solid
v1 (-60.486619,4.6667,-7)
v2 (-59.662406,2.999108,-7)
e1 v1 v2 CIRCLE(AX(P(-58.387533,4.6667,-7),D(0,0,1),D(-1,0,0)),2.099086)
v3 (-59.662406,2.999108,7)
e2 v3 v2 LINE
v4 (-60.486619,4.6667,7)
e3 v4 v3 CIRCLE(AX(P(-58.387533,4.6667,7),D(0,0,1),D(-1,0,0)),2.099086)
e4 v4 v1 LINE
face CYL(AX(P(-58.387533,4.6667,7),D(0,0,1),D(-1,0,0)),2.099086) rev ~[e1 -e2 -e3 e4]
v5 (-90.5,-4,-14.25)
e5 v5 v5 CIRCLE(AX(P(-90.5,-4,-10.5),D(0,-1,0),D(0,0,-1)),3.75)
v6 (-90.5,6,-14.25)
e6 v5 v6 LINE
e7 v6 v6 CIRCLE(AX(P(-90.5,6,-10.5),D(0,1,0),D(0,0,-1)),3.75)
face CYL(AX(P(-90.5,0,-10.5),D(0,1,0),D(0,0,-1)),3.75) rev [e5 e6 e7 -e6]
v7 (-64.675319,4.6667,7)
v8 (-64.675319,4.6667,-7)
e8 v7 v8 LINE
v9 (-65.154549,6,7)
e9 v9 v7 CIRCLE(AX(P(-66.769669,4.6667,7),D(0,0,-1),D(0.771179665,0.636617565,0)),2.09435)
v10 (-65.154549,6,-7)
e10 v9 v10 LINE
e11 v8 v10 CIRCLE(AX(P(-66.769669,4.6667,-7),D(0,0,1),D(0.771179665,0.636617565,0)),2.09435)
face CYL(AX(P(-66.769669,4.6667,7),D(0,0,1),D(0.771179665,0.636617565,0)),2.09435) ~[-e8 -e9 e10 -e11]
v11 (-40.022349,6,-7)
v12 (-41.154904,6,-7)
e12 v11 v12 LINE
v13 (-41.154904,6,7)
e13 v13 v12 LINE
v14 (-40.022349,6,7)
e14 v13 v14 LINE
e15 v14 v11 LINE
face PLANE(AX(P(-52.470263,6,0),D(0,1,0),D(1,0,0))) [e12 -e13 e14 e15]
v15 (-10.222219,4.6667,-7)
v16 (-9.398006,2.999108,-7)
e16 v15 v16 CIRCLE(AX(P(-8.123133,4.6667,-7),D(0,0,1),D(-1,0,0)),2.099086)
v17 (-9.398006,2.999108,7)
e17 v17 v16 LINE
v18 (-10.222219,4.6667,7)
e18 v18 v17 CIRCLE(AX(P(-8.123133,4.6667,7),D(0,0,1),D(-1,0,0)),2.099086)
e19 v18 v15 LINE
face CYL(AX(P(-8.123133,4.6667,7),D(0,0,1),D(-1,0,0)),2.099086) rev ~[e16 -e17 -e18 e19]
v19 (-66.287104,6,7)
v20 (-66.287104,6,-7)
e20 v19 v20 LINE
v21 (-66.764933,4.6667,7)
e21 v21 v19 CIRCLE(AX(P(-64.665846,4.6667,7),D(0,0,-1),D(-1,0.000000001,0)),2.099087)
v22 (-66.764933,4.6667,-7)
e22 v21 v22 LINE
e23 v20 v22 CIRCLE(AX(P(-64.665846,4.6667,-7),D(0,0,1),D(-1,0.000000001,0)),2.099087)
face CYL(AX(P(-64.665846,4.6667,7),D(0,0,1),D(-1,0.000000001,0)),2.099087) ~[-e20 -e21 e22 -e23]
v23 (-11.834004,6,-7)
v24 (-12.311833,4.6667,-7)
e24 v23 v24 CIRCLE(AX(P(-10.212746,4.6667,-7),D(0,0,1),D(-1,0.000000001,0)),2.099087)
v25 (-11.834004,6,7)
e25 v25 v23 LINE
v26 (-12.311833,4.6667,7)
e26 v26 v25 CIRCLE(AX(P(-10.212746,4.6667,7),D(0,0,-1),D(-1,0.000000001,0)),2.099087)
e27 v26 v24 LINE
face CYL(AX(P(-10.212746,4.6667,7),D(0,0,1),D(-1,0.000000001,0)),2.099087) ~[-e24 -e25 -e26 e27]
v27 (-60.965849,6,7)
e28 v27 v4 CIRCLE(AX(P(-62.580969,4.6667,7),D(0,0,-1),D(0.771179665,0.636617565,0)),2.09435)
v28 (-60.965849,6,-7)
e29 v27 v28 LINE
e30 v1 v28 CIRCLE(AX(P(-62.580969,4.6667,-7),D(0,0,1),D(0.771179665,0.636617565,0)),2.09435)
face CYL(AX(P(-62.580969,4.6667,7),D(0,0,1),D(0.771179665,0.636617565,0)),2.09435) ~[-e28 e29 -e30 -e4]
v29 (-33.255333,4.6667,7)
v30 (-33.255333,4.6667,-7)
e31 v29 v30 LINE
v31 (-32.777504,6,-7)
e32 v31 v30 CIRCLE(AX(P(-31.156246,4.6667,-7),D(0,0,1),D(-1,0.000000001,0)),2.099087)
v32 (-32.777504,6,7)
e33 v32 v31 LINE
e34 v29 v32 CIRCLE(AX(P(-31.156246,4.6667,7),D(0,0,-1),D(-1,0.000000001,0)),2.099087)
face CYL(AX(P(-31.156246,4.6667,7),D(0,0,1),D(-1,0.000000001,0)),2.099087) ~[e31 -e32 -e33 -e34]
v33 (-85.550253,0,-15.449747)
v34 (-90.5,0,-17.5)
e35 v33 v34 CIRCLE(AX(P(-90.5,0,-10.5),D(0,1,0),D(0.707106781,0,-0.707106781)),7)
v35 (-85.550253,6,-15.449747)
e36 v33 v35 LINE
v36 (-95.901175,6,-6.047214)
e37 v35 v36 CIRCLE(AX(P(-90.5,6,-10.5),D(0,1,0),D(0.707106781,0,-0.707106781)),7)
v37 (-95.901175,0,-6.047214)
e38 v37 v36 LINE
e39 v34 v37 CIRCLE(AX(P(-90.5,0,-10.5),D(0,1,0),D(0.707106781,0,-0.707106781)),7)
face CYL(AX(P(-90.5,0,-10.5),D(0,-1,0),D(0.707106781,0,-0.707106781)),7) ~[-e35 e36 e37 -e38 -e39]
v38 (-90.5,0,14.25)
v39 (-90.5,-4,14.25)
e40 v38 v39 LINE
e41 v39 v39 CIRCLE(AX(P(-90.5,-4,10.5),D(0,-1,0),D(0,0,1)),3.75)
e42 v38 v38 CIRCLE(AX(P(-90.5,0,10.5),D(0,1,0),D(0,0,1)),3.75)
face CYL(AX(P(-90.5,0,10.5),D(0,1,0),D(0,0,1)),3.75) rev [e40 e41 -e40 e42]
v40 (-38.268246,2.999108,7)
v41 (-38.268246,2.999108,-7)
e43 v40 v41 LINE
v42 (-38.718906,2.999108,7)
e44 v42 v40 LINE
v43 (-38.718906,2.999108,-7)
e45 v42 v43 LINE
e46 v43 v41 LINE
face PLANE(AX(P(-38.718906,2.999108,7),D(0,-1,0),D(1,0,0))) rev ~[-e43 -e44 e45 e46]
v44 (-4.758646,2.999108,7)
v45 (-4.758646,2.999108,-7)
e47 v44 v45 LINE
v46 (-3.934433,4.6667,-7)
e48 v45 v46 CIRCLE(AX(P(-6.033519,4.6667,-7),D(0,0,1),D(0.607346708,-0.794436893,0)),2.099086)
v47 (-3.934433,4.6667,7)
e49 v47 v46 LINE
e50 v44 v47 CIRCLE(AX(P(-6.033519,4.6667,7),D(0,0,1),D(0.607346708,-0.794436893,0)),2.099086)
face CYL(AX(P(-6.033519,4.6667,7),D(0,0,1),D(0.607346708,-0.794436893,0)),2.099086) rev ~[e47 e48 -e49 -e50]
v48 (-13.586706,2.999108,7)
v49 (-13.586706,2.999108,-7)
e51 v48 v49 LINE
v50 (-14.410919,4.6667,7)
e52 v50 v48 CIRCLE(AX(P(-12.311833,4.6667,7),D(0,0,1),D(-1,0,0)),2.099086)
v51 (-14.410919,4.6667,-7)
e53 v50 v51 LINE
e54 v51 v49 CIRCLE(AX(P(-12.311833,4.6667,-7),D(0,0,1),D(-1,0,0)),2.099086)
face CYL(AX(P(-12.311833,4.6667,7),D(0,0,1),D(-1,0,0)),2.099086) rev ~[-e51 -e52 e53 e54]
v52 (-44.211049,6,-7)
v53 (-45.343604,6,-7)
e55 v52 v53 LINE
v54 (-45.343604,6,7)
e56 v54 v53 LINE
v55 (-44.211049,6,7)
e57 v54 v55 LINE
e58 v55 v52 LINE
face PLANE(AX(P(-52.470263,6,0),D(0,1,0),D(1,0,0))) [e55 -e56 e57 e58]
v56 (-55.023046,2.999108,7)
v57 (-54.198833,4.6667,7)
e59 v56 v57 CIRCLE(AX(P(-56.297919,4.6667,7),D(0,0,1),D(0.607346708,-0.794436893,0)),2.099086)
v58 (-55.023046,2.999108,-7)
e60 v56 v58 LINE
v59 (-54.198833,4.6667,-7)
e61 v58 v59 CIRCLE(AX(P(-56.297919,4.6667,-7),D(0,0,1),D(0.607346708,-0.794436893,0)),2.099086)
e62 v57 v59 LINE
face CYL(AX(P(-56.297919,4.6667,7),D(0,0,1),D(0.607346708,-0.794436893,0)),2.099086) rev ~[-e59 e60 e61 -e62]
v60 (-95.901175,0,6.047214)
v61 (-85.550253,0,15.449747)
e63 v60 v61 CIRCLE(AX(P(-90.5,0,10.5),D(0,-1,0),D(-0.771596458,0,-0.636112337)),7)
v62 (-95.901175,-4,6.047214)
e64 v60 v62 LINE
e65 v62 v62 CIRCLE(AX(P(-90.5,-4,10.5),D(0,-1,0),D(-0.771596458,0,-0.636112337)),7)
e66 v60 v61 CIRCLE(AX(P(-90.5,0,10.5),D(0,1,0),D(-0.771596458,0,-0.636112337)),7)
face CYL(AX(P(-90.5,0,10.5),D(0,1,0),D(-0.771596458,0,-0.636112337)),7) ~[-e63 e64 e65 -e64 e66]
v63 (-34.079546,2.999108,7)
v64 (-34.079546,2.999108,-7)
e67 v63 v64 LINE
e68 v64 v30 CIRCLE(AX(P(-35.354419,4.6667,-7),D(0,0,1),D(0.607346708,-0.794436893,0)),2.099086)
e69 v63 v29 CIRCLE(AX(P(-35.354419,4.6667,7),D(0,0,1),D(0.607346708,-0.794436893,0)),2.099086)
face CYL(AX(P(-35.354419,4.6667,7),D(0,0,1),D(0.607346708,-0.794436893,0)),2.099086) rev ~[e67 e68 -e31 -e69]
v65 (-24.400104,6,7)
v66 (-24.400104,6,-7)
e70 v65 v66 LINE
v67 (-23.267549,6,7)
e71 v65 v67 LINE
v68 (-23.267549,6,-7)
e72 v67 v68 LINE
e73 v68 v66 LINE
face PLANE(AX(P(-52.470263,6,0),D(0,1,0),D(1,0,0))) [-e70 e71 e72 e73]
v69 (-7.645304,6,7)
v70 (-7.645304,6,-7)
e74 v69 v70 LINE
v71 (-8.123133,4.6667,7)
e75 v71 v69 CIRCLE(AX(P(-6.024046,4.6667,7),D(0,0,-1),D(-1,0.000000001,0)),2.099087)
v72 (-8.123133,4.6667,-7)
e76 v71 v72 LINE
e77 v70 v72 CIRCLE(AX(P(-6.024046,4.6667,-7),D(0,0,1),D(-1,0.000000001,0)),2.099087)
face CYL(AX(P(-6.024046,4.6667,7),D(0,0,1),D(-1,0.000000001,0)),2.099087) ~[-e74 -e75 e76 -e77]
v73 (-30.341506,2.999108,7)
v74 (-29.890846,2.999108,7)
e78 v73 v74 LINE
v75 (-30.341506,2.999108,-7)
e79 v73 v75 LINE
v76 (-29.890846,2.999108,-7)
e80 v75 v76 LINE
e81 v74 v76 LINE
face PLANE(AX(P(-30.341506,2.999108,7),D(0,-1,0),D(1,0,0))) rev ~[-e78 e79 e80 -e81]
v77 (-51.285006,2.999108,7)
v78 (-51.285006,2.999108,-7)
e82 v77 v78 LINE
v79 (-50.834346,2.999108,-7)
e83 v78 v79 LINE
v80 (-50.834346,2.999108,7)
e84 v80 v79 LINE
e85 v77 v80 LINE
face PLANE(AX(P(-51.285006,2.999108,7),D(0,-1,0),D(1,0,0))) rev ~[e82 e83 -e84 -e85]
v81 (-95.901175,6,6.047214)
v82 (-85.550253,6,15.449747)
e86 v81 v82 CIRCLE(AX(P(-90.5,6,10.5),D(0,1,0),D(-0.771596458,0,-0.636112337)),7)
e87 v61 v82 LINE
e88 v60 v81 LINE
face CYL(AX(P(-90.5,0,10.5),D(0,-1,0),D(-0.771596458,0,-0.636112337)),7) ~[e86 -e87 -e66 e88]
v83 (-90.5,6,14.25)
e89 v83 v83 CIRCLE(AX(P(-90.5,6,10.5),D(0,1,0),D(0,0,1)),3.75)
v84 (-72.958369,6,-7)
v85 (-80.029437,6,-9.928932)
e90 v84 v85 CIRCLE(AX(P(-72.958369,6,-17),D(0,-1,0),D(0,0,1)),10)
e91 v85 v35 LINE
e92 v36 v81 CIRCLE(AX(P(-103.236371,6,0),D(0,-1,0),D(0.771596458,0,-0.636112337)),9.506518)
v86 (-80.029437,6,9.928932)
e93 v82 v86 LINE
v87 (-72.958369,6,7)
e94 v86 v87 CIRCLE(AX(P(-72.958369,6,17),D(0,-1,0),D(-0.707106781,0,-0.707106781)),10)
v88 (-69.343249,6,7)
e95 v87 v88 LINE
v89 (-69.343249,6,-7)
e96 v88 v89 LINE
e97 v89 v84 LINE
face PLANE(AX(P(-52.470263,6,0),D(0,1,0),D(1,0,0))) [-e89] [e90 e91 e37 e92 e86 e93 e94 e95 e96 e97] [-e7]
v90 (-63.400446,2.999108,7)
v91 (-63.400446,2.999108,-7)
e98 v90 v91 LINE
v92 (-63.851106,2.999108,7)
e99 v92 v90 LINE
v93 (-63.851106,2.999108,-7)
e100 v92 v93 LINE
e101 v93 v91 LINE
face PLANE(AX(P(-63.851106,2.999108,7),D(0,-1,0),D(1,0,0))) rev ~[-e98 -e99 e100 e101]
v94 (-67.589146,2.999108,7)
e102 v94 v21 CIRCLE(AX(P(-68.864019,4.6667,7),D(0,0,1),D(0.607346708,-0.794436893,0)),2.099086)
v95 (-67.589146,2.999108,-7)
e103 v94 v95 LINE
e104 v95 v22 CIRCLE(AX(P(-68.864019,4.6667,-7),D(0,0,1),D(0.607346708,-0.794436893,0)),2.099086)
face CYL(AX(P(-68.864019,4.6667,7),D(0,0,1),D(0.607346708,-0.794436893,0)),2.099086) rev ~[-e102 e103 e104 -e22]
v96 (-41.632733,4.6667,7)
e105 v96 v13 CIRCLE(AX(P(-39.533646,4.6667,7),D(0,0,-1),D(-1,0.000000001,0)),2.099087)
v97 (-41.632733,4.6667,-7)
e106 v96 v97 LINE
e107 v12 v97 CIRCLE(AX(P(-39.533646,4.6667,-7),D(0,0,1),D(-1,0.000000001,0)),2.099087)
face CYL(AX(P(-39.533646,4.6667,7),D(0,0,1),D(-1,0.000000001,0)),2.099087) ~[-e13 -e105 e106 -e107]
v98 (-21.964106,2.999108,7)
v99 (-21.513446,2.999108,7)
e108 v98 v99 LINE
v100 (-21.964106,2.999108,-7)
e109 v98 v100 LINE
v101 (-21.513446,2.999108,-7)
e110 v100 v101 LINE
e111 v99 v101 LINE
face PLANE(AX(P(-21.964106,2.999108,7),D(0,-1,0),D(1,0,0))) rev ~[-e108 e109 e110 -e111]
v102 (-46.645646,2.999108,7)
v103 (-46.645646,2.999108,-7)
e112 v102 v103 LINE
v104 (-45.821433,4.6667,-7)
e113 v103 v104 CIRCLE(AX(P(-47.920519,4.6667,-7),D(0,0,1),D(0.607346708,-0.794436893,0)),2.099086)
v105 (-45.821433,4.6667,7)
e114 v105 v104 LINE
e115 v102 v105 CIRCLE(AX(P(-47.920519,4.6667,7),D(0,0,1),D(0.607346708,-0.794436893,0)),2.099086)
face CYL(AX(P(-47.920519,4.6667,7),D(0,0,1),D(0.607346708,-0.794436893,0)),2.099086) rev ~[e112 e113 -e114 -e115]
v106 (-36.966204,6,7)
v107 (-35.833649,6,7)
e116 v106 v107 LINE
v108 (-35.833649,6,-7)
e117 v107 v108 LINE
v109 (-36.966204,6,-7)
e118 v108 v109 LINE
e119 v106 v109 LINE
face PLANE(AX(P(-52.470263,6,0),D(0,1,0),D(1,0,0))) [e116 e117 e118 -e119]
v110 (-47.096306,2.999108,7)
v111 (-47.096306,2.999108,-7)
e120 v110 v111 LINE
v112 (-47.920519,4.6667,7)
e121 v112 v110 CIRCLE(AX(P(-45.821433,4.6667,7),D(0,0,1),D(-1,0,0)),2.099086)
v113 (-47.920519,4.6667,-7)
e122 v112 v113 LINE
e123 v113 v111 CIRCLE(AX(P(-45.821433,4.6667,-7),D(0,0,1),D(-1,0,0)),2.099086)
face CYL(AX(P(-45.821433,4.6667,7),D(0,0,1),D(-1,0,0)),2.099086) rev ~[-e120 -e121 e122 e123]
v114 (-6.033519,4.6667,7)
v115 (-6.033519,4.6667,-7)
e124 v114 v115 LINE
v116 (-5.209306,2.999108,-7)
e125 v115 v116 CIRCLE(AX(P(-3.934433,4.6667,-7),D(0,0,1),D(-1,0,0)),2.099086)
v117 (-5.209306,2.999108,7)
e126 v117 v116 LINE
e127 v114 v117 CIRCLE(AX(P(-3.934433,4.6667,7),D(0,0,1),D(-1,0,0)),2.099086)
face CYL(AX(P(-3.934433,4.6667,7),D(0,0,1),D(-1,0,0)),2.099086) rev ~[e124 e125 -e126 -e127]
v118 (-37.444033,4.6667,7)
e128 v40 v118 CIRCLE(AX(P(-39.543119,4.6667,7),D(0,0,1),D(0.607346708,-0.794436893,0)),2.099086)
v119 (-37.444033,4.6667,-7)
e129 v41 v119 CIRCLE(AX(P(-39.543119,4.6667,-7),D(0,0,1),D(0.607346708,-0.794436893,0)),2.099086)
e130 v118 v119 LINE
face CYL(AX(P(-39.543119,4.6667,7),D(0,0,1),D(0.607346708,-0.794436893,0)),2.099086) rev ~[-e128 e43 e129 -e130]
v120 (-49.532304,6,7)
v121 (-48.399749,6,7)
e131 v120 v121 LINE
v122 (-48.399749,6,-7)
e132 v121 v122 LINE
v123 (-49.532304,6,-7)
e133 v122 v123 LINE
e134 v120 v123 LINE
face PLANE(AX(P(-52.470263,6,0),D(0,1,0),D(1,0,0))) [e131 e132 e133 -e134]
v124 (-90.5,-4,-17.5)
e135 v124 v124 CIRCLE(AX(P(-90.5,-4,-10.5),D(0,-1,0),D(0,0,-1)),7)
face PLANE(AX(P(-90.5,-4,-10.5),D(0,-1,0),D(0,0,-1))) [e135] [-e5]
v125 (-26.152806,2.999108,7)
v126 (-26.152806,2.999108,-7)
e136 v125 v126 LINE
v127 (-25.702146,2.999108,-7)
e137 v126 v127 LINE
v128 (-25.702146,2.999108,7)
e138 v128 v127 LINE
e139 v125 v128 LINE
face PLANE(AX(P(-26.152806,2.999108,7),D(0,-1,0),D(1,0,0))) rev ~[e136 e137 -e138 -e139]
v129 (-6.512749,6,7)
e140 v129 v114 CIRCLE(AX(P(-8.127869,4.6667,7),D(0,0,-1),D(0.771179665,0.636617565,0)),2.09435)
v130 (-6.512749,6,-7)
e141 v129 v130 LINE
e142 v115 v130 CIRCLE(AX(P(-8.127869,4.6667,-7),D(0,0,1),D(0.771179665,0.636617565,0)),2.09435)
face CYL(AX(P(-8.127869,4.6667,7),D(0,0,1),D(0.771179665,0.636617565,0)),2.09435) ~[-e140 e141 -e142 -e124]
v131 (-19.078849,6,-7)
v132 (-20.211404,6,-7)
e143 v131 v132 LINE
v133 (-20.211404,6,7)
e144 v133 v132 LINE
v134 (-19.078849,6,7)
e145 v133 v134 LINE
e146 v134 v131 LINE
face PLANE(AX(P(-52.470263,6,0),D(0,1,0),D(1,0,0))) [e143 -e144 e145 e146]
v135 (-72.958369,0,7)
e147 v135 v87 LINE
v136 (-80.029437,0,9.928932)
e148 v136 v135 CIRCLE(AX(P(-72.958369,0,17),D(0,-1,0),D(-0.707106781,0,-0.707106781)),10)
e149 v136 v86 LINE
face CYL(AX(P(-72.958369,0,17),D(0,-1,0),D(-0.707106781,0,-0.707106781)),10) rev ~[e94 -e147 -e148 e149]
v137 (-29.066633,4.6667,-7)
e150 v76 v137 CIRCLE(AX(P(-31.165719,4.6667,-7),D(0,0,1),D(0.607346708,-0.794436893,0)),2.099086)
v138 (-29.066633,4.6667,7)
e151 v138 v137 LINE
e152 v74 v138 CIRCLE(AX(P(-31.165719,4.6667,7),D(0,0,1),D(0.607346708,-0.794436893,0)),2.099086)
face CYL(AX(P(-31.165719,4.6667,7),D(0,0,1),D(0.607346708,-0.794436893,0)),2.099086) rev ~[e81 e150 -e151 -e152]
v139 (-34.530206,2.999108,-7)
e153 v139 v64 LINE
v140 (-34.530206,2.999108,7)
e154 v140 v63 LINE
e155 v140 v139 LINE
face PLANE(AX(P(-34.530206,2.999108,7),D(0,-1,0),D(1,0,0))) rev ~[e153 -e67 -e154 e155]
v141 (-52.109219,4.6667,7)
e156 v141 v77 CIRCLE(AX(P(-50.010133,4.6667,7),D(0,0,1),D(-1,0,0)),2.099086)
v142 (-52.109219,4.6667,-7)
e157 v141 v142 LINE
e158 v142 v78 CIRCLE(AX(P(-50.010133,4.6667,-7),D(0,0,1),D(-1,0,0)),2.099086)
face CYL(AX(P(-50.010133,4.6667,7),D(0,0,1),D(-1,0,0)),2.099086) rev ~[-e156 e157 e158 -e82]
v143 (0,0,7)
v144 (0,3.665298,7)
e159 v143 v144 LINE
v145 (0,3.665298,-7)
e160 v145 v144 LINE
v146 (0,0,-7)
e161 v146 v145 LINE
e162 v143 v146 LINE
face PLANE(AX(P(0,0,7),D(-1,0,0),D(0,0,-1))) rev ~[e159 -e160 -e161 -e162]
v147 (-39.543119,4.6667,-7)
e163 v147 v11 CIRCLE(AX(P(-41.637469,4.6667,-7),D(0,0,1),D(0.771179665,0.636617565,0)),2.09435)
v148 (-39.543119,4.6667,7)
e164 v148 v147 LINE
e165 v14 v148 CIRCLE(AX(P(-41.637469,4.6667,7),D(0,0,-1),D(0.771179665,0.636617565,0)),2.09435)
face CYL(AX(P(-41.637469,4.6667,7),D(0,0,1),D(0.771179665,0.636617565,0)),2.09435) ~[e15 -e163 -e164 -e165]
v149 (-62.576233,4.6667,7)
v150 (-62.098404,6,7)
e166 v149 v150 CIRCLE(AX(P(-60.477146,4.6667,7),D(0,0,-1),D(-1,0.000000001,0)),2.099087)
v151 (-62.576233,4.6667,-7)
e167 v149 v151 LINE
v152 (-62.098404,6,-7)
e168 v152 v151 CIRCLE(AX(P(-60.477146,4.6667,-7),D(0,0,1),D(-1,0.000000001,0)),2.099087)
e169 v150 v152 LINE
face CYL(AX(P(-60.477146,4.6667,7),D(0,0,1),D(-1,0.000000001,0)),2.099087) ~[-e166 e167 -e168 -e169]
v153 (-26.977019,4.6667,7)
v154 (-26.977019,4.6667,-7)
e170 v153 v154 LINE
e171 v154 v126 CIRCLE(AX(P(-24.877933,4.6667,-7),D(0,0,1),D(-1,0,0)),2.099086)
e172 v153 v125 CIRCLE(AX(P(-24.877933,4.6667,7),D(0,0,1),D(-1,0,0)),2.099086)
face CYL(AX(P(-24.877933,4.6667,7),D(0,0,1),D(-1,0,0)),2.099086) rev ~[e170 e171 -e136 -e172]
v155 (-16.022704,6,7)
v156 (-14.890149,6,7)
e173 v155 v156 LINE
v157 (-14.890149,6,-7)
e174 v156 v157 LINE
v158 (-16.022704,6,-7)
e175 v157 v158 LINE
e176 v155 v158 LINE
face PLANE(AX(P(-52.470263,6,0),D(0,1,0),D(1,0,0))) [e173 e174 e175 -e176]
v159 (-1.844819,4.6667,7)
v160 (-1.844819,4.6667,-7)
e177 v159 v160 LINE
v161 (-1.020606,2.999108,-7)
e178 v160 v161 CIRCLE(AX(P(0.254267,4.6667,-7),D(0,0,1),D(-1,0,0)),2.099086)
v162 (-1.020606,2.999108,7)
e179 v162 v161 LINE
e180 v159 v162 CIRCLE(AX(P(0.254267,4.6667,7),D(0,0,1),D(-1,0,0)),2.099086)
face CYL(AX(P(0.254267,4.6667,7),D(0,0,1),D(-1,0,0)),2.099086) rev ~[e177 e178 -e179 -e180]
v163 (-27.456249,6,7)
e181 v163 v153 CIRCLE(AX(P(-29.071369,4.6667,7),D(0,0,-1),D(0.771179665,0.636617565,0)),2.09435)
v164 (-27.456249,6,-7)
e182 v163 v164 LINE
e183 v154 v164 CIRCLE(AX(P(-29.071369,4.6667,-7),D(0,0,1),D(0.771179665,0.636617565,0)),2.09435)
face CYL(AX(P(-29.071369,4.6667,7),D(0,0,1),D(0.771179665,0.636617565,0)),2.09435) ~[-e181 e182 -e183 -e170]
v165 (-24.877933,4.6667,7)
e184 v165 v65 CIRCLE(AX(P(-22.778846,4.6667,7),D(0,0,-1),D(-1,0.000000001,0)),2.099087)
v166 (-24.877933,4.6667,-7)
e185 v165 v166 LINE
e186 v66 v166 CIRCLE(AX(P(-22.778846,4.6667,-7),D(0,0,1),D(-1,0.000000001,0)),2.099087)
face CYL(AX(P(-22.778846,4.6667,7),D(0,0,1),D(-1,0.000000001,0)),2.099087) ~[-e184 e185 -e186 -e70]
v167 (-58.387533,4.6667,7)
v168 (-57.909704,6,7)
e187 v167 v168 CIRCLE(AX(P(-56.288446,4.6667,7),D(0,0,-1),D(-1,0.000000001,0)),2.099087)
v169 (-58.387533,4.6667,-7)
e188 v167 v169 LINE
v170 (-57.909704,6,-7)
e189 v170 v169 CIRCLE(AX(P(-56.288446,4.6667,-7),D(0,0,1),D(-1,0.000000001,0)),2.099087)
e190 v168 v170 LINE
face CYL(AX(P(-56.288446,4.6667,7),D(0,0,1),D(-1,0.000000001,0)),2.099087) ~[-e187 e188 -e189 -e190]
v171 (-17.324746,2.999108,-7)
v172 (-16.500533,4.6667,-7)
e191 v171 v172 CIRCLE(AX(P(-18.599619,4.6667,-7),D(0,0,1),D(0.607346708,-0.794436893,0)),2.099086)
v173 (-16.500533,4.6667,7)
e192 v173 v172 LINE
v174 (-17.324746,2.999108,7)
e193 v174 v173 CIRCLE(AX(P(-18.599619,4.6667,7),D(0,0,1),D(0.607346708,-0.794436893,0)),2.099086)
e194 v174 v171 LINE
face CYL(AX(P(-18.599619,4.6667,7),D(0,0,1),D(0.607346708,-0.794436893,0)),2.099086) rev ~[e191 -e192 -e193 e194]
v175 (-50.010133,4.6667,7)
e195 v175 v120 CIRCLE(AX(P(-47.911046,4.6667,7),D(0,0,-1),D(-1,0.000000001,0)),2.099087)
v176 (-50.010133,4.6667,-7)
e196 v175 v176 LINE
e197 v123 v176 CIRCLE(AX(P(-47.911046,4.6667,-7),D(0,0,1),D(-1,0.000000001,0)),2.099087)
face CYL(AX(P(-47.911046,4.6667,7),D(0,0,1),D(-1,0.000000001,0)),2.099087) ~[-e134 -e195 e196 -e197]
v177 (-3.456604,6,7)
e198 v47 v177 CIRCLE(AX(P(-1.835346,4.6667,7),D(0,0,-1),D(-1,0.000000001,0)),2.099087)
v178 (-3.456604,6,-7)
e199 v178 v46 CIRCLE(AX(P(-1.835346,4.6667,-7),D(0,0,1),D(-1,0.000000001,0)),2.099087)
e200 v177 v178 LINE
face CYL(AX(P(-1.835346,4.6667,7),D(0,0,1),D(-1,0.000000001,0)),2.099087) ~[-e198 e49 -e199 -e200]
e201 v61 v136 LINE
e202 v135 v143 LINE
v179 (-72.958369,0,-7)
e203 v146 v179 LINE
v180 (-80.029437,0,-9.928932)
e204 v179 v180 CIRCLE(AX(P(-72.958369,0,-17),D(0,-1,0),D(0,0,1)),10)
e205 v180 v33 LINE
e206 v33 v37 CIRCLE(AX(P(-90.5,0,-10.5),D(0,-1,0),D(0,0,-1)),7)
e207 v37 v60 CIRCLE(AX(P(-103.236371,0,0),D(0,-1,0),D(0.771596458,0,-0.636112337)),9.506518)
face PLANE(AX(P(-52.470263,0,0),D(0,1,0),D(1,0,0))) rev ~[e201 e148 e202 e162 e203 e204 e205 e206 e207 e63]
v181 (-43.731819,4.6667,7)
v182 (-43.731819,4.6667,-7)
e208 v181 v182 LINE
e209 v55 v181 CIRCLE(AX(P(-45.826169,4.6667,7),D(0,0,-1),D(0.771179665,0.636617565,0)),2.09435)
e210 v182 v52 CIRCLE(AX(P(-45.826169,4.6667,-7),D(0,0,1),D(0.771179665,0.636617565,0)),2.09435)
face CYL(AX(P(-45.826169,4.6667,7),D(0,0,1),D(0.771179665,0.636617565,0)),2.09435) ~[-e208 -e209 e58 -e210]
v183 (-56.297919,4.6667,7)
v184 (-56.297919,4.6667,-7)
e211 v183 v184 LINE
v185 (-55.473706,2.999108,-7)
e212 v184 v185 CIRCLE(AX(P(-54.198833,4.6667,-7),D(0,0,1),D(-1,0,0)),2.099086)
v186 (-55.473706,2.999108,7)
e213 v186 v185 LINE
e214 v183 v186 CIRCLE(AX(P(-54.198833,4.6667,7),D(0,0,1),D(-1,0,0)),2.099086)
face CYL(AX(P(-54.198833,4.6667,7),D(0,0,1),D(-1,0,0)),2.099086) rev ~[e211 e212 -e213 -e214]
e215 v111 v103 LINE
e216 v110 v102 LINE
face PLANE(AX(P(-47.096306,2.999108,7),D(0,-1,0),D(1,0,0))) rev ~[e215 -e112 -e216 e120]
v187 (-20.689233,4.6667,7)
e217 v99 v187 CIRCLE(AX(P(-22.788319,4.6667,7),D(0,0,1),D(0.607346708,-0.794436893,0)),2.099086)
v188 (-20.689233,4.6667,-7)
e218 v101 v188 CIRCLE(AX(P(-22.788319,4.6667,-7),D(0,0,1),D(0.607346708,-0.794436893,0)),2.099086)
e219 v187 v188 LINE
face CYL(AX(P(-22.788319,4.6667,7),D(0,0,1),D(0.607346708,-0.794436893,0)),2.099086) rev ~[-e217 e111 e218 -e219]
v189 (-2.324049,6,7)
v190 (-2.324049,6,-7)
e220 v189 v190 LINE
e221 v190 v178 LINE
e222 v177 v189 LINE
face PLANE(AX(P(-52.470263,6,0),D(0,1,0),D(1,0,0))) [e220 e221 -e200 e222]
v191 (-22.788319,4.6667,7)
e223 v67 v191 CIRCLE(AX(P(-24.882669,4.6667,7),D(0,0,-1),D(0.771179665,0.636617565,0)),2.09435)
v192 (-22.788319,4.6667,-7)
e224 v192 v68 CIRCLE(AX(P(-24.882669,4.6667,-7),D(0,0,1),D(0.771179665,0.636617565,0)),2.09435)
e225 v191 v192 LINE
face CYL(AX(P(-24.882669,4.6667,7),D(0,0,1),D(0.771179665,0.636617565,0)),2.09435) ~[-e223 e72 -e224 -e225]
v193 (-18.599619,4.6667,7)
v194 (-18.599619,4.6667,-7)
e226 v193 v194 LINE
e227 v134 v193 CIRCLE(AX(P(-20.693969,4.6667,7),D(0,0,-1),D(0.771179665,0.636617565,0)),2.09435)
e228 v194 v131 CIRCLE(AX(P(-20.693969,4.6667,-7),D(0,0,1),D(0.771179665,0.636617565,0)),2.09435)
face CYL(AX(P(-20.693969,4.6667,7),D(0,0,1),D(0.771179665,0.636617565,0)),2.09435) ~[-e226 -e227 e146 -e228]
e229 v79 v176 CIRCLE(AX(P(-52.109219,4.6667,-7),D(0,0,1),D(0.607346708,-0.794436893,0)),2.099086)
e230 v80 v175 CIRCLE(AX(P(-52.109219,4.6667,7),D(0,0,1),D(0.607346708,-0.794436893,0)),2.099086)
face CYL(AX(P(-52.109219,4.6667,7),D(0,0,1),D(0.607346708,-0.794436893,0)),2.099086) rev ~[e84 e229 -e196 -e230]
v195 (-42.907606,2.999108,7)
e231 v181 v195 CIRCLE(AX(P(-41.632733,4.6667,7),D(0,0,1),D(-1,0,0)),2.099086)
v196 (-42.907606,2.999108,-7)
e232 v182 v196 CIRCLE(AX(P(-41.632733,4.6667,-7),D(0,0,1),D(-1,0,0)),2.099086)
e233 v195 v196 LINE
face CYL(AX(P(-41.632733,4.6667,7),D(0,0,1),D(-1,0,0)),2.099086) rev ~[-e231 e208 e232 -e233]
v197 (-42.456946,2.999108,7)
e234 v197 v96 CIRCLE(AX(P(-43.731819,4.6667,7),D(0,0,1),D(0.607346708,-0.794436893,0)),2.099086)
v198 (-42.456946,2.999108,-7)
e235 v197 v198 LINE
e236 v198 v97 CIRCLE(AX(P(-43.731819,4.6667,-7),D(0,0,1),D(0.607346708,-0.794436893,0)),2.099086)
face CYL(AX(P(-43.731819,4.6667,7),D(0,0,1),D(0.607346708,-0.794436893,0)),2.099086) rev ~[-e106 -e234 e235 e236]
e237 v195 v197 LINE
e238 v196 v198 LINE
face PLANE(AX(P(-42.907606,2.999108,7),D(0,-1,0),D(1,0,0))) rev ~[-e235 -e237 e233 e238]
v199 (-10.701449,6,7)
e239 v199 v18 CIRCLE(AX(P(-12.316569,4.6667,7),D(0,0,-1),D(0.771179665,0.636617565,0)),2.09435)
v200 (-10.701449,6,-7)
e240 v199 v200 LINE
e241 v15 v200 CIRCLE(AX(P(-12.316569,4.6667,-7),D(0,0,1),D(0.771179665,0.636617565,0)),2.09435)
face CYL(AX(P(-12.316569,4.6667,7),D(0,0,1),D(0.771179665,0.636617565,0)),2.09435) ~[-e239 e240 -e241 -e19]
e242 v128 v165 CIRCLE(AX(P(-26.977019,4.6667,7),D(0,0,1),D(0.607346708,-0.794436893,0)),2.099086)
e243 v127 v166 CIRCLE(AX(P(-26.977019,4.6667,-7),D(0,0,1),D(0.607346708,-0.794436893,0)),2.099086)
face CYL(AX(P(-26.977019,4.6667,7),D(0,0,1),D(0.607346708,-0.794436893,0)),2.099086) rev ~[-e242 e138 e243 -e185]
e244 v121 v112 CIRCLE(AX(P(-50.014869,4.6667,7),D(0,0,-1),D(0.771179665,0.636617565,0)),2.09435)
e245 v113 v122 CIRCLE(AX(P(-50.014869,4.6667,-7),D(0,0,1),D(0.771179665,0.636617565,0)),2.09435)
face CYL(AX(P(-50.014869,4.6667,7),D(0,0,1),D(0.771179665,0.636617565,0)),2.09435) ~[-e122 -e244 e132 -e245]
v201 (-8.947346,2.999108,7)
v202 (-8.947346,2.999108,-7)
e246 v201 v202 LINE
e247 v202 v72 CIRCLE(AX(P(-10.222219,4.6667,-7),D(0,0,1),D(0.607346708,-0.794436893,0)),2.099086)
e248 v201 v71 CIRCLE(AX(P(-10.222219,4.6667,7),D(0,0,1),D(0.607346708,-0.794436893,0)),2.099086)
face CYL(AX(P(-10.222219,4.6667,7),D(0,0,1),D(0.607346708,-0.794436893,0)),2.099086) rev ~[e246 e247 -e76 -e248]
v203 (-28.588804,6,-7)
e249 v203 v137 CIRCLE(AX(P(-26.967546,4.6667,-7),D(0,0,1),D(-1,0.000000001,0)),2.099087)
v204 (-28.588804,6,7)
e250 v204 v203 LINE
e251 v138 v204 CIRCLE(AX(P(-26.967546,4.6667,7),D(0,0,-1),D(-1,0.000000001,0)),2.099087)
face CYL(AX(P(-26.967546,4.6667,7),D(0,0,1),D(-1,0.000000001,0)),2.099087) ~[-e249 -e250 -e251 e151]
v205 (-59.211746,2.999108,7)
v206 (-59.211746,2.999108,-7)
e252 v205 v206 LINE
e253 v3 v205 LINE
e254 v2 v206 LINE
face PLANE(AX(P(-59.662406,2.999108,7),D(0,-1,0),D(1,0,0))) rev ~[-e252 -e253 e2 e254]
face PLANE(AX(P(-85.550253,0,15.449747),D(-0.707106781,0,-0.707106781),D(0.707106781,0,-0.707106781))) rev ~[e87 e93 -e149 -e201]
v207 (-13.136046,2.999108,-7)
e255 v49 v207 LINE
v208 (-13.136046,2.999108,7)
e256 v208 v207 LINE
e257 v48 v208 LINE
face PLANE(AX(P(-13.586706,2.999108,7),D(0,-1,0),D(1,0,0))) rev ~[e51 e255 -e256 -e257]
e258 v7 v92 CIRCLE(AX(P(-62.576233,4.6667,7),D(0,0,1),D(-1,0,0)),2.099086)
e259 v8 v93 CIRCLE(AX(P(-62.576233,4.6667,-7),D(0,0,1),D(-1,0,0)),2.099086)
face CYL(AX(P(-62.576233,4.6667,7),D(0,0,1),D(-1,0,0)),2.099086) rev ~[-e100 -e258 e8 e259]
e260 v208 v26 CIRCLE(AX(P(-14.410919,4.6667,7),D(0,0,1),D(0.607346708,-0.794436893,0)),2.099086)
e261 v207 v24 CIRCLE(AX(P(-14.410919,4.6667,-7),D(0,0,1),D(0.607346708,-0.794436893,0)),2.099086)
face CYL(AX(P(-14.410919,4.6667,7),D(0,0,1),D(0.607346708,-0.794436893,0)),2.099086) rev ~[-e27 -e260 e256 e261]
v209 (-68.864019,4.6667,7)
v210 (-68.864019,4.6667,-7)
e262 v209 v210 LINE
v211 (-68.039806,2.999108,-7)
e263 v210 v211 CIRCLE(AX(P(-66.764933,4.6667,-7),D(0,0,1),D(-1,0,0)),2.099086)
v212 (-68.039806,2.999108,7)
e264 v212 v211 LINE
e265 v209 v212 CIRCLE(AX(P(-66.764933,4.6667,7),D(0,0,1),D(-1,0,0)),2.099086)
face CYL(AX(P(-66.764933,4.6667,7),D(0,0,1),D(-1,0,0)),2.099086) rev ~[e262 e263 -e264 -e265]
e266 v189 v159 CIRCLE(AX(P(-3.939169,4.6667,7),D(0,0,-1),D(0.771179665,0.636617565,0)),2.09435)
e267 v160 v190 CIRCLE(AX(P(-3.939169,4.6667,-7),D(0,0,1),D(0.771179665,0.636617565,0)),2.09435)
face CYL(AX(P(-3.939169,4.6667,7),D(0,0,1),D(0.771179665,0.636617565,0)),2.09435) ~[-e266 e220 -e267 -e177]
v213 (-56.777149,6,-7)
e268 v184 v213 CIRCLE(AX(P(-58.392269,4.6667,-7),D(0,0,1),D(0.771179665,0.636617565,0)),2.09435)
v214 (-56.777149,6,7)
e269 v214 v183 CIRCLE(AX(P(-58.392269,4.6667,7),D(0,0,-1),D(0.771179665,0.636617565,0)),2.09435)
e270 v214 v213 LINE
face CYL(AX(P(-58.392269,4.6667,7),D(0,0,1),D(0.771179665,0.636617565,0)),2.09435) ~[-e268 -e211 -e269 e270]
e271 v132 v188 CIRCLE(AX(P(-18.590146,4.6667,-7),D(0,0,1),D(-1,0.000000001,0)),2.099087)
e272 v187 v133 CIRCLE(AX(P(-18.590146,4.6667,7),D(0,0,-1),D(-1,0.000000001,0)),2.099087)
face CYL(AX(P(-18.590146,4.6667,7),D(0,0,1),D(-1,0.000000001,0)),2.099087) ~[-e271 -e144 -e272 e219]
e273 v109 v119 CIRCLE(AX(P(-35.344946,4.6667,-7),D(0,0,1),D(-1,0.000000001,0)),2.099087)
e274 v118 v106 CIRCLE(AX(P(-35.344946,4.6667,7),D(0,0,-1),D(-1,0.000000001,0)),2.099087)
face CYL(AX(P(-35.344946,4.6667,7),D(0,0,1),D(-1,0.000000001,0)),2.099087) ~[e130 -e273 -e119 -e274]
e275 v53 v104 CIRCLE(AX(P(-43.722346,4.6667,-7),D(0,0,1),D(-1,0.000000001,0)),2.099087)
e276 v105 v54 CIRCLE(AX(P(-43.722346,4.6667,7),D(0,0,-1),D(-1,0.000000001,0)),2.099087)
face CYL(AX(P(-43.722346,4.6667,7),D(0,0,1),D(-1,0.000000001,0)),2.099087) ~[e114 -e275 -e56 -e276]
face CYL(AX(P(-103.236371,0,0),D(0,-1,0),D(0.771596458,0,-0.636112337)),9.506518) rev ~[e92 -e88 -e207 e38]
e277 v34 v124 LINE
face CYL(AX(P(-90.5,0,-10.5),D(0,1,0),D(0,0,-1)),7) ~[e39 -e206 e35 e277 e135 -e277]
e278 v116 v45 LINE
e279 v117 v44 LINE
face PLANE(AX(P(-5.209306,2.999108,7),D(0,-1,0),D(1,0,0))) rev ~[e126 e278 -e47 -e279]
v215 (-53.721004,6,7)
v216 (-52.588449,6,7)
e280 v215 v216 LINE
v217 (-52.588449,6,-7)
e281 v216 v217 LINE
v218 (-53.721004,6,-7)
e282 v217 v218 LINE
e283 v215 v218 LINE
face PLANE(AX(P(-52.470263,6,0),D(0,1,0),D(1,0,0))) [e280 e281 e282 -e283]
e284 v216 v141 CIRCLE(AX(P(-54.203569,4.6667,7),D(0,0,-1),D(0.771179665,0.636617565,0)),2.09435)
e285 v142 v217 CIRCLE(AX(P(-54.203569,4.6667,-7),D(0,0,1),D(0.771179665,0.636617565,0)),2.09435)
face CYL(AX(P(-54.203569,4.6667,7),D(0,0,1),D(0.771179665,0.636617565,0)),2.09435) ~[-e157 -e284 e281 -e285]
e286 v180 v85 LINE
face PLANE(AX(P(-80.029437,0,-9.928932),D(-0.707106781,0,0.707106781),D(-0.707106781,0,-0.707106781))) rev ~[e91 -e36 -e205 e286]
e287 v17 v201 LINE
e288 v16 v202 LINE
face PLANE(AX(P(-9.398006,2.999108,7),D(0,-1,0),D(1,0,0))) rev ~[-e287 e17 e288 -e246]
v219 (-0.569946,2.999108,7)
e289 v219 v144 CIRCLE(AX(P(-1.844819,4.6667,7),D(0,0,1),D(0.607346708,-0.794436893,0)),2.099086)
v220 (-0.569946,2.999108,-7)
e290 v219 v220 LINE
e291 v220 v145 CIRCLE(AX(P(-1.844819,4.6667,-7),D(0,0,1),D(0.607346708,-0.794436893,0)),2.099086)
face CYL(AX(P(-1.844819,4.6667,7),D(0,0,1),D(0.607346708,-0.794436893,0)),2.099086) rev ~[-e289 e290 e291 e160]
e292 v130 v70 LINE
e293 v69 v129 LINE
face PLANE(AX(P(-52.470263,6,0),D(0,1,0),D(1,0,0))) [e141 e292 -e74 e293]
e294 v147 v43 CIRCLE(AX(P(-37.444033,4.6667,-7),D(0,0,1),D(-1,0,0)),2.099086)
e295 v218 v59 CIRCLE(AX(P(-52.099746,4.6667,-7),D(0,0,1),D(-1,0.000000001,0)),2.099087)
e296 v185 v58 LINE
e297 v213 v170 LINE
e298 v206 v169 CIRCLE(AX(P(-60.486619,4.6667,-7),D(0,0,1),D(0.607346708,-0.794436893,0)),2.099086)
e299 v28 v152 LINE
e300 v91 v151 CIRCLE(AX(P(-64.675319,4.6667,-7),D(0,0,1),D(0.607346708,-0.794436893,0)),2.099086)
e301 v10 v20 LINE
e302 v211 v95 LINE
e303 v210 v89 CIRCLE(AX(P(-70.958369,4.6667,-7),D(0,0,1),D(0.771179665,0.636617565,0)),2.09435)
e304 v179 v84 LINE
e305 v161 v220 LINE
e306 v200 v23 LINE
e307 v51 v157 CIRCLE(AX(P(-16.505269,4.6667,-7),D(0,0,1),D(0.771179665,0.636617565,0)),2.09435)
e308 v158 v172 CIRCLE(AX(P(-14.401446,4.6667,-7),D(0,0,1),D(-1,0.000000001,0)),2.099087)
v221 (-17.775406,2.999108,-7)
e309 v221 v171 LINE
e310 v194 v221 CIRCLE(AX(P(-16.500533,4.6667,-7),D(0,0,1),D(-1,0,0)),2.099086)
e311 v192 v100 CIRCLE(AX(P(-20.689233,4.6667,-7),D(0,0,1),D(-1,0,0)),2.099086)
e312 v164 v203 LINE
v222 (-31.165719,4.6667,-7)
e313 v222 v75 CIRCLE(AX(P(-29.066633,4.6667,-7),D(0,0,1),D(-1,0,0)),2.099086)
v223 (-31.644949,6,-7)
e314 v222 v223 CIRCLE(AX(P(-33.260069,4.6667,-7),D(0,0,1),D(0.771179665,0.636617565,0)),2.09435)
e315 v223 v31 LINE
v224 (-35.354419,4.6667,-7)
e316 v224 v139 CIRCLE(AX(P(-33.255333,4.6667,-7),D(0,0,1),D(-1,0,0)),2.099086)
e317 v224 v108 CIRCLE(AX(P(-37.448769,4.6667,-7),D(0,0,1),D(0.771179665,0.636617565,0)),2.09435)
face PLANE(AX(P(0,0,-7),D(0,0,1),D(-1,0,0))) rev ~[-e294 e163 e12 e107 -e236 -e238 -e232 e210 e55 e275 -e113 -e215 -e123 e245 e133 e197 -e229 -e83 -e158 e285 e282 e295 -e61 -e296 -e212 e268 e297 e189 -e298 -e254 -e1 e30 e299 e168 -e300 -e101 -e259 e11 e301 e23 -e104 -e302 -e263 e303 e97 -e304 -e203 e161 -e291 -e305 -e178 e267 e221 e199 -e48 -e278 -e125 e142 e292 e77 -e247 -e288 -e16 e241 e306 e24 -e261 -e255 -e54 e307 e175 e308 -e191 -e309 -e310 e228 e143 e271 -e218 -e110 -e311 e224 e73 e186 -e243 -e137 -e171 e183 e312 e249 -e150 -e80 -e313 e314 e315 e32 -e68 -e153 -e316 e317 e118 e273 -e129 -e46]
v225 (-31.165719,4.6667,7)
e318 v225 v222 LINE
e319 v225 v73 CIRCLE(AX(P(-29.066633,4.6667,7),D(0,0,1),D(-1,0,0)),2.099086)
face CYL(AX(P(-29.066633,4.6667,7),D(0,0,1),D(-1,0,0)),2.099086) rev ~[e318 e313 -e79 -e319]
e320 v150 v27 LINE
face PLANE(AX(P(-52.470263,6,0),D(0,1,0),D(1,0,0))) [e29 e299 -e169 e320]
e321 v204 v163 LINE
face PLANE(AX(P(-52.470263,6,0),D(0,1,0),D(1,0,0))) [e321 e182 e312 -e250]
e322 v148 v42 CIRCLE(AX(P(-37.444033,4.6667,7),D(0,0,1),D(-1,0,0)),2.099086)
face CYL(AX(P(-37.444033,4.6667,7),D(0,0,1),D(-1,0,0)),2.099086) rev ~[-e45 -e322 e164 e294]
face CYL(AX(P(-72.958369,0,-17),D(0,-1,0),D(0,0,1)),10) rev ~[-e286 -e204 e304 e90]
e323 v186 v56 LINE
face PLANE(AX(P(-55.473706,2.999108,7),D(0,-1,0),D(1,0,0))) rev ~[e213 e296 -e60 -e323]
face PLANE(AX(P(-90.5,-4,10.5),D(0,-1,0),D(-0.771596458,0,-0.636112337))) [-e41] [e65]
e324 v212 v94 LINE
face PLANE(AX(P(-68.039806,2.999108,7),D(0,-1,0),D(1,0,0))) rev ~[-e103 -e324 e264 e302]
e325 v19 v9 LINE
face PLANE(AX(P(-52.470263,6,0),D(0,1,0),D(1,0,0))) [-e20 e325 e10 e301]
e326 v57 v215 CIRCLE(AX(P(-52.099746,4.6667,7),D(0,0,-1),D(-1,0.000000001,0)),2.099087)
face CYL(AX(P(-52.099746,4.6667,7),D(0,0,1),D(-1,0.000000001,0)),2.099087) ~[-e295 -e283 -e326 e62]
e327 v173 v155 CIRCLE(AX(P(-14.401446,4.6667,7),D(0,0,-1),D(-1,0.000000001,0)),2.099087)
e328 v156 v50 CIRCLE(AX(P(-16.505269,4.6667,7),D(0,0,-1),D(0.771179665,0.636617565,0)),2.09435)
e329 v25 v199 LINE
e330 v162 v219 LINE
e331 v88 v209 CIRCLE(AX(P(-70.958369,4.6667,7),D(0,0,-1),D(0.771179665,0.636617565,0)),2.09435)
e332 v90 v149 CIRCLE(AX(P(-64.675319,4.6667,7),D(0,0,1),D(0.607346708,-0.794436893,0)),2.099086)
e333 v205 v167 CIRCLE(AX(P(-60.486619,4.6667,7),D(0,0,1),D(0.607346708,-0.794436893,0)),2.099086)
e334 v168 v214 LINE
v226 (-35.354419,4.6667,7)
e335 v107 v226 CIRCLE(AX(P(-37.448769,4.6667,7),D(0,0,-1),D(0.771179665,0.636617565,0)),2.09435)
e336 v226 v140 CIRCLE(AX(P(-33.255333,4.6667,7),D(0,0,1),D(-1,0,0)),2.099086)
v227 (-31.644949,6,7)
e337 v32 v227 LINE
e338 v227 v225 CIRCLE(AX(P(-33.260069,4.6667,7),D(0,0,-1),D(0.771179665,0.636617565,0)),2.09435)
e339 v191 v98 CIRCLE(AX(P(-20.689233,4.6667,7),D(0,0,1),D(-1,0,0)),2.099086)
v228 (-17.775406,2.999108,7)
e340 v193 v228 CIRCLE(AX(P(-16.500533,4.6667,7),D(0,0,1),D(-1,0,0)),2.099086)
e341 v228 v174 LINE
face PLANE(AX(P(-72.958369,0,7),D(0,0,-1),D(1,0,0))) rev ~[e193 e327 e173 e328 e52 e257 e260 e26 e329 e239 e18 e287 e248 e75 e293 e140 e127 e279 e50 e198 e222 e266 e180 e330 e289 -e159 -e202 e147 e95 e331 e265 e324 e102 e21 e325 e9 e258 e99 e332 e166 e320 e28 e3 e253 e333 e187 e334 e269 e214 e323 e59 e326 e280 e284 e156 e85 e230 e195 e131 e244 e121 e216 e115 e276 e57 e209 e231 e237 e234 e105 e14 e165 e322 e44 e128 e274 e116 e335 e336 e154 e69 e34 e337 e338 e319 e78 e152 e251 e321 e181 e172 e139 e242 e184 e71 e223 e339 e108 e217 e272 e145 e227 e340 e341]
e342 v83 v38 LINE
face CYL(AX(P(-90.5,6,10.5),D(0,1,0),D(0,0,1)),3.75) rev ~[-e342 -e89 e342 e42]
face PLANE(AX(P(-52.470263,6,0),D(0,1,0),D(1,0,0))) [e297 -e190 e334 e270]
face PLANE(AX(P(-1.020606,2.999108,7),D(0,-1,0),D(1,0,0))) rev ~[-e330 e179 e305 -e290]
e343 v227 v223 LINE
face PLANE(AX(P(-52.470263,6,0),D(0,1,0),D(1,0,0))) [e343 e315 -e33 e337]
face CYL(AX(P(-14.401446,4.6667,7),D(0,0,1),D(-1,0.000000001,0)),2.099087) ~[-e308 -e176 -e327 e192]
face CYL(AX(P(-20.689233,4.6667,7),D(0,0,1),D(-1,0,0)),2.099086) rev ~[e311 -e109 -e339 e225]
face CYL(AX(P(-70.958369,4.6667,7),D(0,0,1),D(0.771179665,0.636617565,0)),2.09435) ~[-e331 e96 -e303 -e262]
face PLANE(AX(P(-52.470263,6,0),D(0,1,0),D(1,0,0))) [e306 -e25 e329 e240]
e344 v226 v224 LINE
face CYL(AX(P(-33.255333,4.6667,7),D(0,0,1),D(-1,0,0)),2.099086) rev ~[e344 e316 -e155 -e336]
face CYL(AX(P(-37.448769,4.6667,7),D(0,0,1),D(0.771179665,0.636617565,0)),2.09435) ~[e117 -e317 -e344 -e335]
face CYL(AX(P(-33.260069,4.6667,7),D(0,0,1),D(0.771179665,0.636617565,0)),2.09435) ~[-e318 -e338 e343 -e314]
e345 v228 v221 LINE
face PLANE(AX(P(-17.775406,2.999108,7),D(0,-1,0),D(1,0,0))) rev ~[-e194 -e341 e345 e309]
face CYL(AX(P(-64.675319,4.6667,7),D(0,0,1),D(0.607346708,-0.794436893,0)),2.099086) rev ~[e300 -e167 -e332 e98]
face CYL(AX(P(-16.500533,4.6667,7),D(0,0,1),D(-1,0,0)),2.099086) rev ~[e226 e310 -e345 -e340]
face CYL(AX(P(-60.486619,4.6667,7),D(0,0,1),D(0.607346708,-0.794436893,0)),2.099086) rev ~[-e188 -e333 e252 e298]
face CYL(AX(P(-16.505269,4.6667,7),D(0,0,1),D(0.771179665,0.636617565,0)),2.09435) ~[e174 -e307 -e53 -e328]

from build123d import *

# Parameters (mm, degrees)
SALIENTE_EXTRUIR1_DEPTH = 6
CROQUIS18_R             = 3.75
CORTAR_EXTRUIR2_DEPTH   = 100.239609028
CORTAR_EXTRUIR3_DEPTH   = 101.709979645
CROQUIS21_R             = 7
CROQUIS21_R_2           = 3.75
SALIENTE_EXTRUIR3_DEPTH = 4


with BuildPart() as part:
    # Croquis14 → Saliente-Extruir1 (new body)
    with BuildSketch(Plane(origin=(0, 0, 0), x_dir=(1, 0, 0), z_dir=(0, 1, 0))):
        with BuildLine():
            Line((0, 7), (-72.95836944, 7))
            ThreePointArc((-72.95836944, 7), (-76.785203763, 7.761204675), (-80.029437252, 9.928932188))
            Line((-80.029437252, 9.928932188), (-85.550252532, 15.449747468))
            ThreePointArc((-85.550252532, 15.449747468), (-95.206682203, 15.681422839), (-95.901175207, 6.047213638))
            ThreePointArc((-95.901175207, 6.047213638), (-93.729852734, 0), (-95.901175207, -6.047213638))
            ThreePointArc((-95.901175207, -6.047213638), (-95.206682203, -15.681422839), (-85.550252532, -15.449747468))
            Line((-85.550252532, -15.449747468), (-80.029437252, -9.928932188))
            ThreePointArc((-80.029437252, -9.928932188), (-76.785203763, -7.761204675), (-72.95836944, -7))
            Line((-72.95836944, -7), (0, -7))
            Line((0, -7), (0, 7))
        make_face()
    extrude(amount=SALIENTE_EXTRUIR1_DEPTH)

    # Croquis18 → Cortar-Extruir2 (cut, through all)
    with BuildSketch(Plane(origin=(0, 6, 0), x_dir=(1, 0, 0), z_dir=(0, 1, 0))):
        with Locations(Location((-90.5, -10.5, 0), (0, 0, 270))):
            Circle(CROQUIS18_R)
        with Locations(Location((-90.5, 10.5, 0), (0, 0, 90))):
            Circle(CROQUIS18_R)
    extrude(amount=-CORTAR_EXTRUIR2_DEPTH, mode=Mode.SUBTRACT)

    # Croquis16 → Cortar-Extruir3 (cut, through all)
    with BuildSketch(Plane.XY.offset(7)):
        with BuildLine():
            Line((-63.851106218, 2.999108248), (-63.400446165, 2.999108248))
            ThreePointArc((-63.400446165, 2.999108248), (-62.793533932, 3.736620744), (-62.576232944, 4.6667))
            ThreePointArc((-62.576232944, 4.6667), (-62.453168135, 5.374868347), (-62.098403746, 6))
            Line((-62.098403746, 6), (-65.15454931, 6))
            ThreePointArc((-65.15454931, 6), (-64.798764982, 5.375104926), (-64.67531944, 4.6667))
            ThreePointArc((-64.67531944, 4.6667), (-64.458018451, 3.736620744), (-63.851106218, 2.999108248))
        make_face()
        with BuildLine():
            Line((-59.662406218, 2.999108248), (-59.211746165, 2.999108248))
            ThreePointArc((-59.211746165, 2.999108248), (-58.604833932, 3.736620744), (-58.387532944, 4.6667))
            ThreePointArc((-58.387532944, 4.6667), (-58.264468135, 5.374868347), (-57.909703746, 6))
            Line((-57.909703746, 6), (-60.96584931, 6))
            ThreePointArc((-60.96584931, 6), (-60.610064982, 5.375104926), (-60.48661944, 4.6667))
            ThreePointArc((-60.48661944, 4.6667), (-60.269318451, 3.736620744), (-59.662406218, 2.999108248))
        make_face()
        with BuildLine():
            Line((-68.039806218, 2.999108248), (-67.589146165, 2.999108248))
            ThreePointArc((-67.589146165, 2.999108248), (-66.982233932, 3.736620744), (-66.764932944, 4.6667))
            ThreePointArc((-66.764932944, 4.6667), (-66.641868135, 5.374868347), (-66.287103746, 6))
            Line((-66.287103746, 6), (-69.34324931, 6))
            ThreePointArc((-69.34324931, 6), (-68.987464982, 5.375104926), (-68.86401944, 4.6667))
            ThreePointArc((-68.86401944, 4.6667), (-68.646718451, 3.736620744), (-68.039806218, 2.999108248))
        make_face()
        with BuildLine():
            Line((-55.473706218, 2.999108248), (-55.023046165, 2.999108248))
            ThreePointArc((-55.023046165, 2.999108248), (-54.416133932, 3.736620744), (-54.198832944, 4.6667))
            ThreePointArc((-54.198832944, 4.6667), (-54.075768135, 5.374868347), (-53.721003746, 6))
            Line((-53.721003746, 6), (-56.77714931, 6))
            ThreePointArc((-56.77714931, 6), (-56.421364982, 5.375104926), (-56.29791944, 4.6667))
            ThreePointArc((-56.29791944, 4.6667), (-56.080618451, 3.736620744), (-55.473706218, 2.999108248))
        make_face()
        with BuildLine():
            Line((-51.285006218, 2.999108248), (-50.834346165, 2.999108248))
            ThreePointArc((-50.834346165, 2.999108248), (-50.227433932, 3.736620744), (-50.010132944, 4.6667))
            ThreePointArc((-50.010132944, 4.6667), (-49.887068135, 5.374868347), (-49.532303746, 6))
            Line((-49.532303746, 6), (-52.58844931, 6))
            ThreePointArc((-52.58844931, 6), (-52.232664982, 5.375104926), (-52.10921944, 4.6667))
            ThreePointArc((-52.10921944, 4.6667), (-51.891918451, 3.736620744), (-51.285006218, 2.999108248))
        make_face()
        with BuildLine():
            Line((-47.096306218, 2.999108248), (-46.645646165, 2.999108248))
            ThreePointArc((-46.645646165, 2.999108248), (-46.038733932, 3.736620744), (-45.821432944, 4.6667))
            ThreePointArc((-45.821432944, 4.6667), (-45.698368135, 5.374868347), (-45.343603746, 6))
            Line((-45.343603746, 6), (-48.39974931, 6))
            ThreePointArc((-48.39974931, 6), (-48.043964982, 5.375104926), (-47.92051944, 4.6667))
            ThreePointArc((-47.92051944, 4.6667), (-47.703218451, 3.736620744), (-47.096306218, 2.999108248))
        make_face()
        with BuildLine():
            Line((-42.907606218, 2.999108248), (-42.456946165, 2.999108248))
            ThreePointArc((-42.456946165, 2.999108248), (-41.850033932, 3.736620744), (-41.632732944, 4.6667))
            ThreePointArc((-41.632732944, 4.6667), (-41.509668135, 5.374868347), (-41.154903746, 6))
            Line((-41.154903746, 6), (-44.21104931, 6))
            ThreePointArc((-44.21104931, 6), (-43.855264982, 5.375104926), (-43.73181944, 4.6667))
            ThreePointArc((-43.73181944, 4.6667), (-43.514518451, 3.736620744), (-42.907606218, 2.999108248))
        make_face()
        with BuildLine():
            Line((-38.718906218, 2.999108248), (-38.268246165, 2.999108248))
            ThreePointArc((-38.268246165, 2.999108248), (-37.661333932, 3.736620744), (-37.444032944, 4.6667))
            ThreePointArc((-37.444032944, 4.6667), (-37.320968135, 5.374868347), (-36.966203746, 6))
            Line((-36.966203746, 6), (-40.02234931, 6))
            ThreePointArc((-40.02234931, 6), (-39.666564982, 5.375104926), (-39.54311944, 4.6667))
            ThreePointArc((-39.54311944, 4.6667), (-39.325818451, 3.736620744), (-38.718906218, 2.999108248))
        make_face()
        with BuildLine():
            Line((-34.530206218, 2.999108248), (-34.079546165, 2.999108248))
            ThreePointArc((-34.079546165, 2.999108248), (-33.472633932, 3.736620744), (-33.255332944, 4.6667))
            ThreePointArc((-33.255332944, 4.6667), (-33.132268135, 5.374868347), (-32.777503746, 6))
            Line((-32.777503746, 6), (-35.83364931, 6))
            ThreePointArc((-35.83364931, 6), (-35.477864982, 5.375104926), (-35.35441944, 4.6667))
            ThreePointArc((-35.35441944, 4.6667), (-35.137118451, 3.736620744), (-34.530206218, 2.999108248))
        make_face()
        with BuildLine():
            Line((-30.341506218, 2.999108248), (-29.890846165, 2.999108248))
            ThreePointArc((-29.890846165, 2.999108248), (-29.283933932, 3.736620744), (-29.066632944, 4.6667))
            ThreePointArc((-29.066632944, 4.6667), (-28.943568135, 5.374868347), (-28.588803746, 6))
            Line((-28.588803746, 6), (-31.64494931, 6))
            ThreePointArc((-31.64494931, 6), (-31.289164982, 5.375104926), (-31.16571944, 4.6667))
            ThreePointArc((-31.16571944, 4.6667), (-30.948418451, 3.736620744), (-30.341506218, 2.999108248))
        make_face()
        with BuildLine():
            Line((-26.152806218, 2.999108248), (-25.702146165, 2.999108248))
            ThreePointArc((-25.702146165, 2.999108248), (-25.095233932, 3.736620744), (-24.877932944, 4.6667))
            ThreePointArc((-24.877932944, 4.6667), (-24.754868135, 5.374868347), (-24.400103746, 6))
            Line((-24.400103746, 6), (-27.45624931, 6))
            ThreePointArc((-27.45624931, 6), (-27.100464982, 5.375104926), (-26.97701944, 4.6667))
            ThreePointArc((-26.97701944, 4.6667), (-26.759718451, 3.736620744), (-26.152806218, 2.999108248))
        make_face()
        with BuildLine():
            Line((-21.964106218, 2.999108248), (-21.513446165, 2.999108248))
            ThreePointArc((-21.513446165, 2.999108248), (-20.906533932, 3.736620744), (-20.689232944, 4.6667))
            ThreePointArc((-20.689232944, 4.6667), (-20.566168135, 5.374868347), (-20.211403746, 6))
            Line((-20.211403746, 6), (-23.26754931, 6))
            ThreePointArc((-23.26754931, 6), (-22.911764982, 5.375104926), (-22.78831944, 4.6667))
            ThreePointArc((-22.78831944, 4.6667), (-22.571018451, 3.736620744), (-21.964106218, 2.999108248))
        make_face()
        with BuildLine():
            Line((-17.775406218, 2.999108248), (-17.324746165, 2.999108248))
            ThreePointArc((-17.324746165, 2.999108248), (-16.717833932, 3.736620744), (-16.500532944, 4.6667))
            ThreePointArc((-16.500532944, 4.6667), (-16.377468135, 5.374868347), (-16.022703746, 6))
            Line((-16.022703746, 6), (-19.07884931, 6))
            ThreePointArc((-19.07884931, 6), (-18.723064982, 5.375104926), (-18.59961944, 4.6667))
            ThreePointArc((-18.59961944, 4.6667), (-18.382318451, 3.736620744), (-17.775406218, 2.999108248))
        make_face()
        with BuildLine():
            Line((-13.586706218, 2.999108248), (-13.136046165, 2.999108248))
            ThreePointArc((-13.136046165, 2.999108248), (-12.529133932, 3.736620744), (-12.311832944, 4.6667))
            ThreePointArc((-12.311832944, 4.6667), (-12.188768135, 5.374868347), (-11.834003746, 6))
            Line((-11.834003746, 6), (-14.89014931, 6))
            ThreePointArc((-14.89014931, 6), (-14.534364982, 5.375104926), (-14.41091944, 4.6667))
            ThreePointArc((-14.41091944, 4.6667), (-14.193618451, 3.736620744), (-13.586706218, 2.999108248))
        make_face()
        with BuildLine():
            Line((-9.398006218, 2.999108248), (-8.947346165, 2.999108248))
            ThreePointArc((-8.947346165, 2.999108248), (-8.340433932, 3.736620744), (-8.123132944, 4.6667))
            ThreePointArc((-8.123132944, 4.6667), (-8.000068135, 5.374868347), (-7.645303746, 6))
            Line((-7.645303746, 6), (-10.70144931, 6))
            ThreePointArc((-10.70144931, 6), (-10.345664982, 5.375104926), (-10.22221944, 4.6667))
            ThreePointArc((-10.22221944, 4.6667), (-10.004918451, 3.736620744), (-9.398006218, 2.999108248))
        make_face()
        with BuildLine():
            Line((-5.209306218, 2.999108248), (-4.758646165, 2.999108248))
            ThreePointArc((-4.758646165, 2.999108248), (-4.151733932, 3.736620744), (-3.934432944, 4.6667))
            ThreePointArc((-3.934432944, 4.6667), (-3.811368135, 5.374868347), (-3.456603746, 6))
            Line((-3.456603746, 6), (-6.51274931, 6))
            ThreePointArc((-6.51274931, 6), (-6.156964982, 5.375104926), (-6.03351944, 4.6667))
            ThreePointArc((-6.03351944, 4.6667), (-5.816218451, 3.736620744), (-5.209306218, 2.999108248))
        make_face()
        with BuildLine():
            Line((-1.020606218, 2.999108248), (-0.569946165, 2.999108248))
            ThreePointArc((-0.569946165, 2.999108248), (0.036966068, 3.736620744), (0.254267056, 4.6667))
            ThreePointArc((0.254267056, 4.6667), (0.377331865, 5.374868347), (0.732096254, 6))
            Line((0.732096254, 6), (-2.32404931, 6))
            ThreePointArc((-2.32404931, 6), (-1.968264982, 5.375104926), (-1.84481944, 4.6667))
            ThreePointArc((-1.84481944, 4.6667), (-1.627518451, 3.736620744), (-1.020606218, 2.999108248))
        make_face()
    extrude(amount=-CORTAR_EXTRUIR3_DEPTH, mode=Mode.SUBTRACT)

    # Croquis21 → Saliente-Extruir3 (add)
    # profile 1 of 2: a face of its own
    with BuildSketch(Plane.XZ):
        with Locations(Location((-90.5, -10.5, 0), (0, 0, 270))):
            Circle(CROQUIS21_R)
        with Locations(Location((-90.5, -10.5, 0), (0, 0, 270))):
            Circle(CROQUIS21_R_2, mode=Mode.SUBTRACT)
    # profile 2 of 2: a face of its own
    with BuildSketch(Plane.XZ):
        with Locations(Location((-90.5, 10.5, 0), (0, 0, 219.502533363))):
            Circle(CROQUIS21_R)
        with Locations(Location((-90.5, 10.5, 0), (0, 0, 90))):
            Circle(CROQUIS21_R_2, mode=Mode.SUBTRACT)
    extrude(amount=SALIENTE_EXTRUIR3_DEPTH)


solid = part.part
